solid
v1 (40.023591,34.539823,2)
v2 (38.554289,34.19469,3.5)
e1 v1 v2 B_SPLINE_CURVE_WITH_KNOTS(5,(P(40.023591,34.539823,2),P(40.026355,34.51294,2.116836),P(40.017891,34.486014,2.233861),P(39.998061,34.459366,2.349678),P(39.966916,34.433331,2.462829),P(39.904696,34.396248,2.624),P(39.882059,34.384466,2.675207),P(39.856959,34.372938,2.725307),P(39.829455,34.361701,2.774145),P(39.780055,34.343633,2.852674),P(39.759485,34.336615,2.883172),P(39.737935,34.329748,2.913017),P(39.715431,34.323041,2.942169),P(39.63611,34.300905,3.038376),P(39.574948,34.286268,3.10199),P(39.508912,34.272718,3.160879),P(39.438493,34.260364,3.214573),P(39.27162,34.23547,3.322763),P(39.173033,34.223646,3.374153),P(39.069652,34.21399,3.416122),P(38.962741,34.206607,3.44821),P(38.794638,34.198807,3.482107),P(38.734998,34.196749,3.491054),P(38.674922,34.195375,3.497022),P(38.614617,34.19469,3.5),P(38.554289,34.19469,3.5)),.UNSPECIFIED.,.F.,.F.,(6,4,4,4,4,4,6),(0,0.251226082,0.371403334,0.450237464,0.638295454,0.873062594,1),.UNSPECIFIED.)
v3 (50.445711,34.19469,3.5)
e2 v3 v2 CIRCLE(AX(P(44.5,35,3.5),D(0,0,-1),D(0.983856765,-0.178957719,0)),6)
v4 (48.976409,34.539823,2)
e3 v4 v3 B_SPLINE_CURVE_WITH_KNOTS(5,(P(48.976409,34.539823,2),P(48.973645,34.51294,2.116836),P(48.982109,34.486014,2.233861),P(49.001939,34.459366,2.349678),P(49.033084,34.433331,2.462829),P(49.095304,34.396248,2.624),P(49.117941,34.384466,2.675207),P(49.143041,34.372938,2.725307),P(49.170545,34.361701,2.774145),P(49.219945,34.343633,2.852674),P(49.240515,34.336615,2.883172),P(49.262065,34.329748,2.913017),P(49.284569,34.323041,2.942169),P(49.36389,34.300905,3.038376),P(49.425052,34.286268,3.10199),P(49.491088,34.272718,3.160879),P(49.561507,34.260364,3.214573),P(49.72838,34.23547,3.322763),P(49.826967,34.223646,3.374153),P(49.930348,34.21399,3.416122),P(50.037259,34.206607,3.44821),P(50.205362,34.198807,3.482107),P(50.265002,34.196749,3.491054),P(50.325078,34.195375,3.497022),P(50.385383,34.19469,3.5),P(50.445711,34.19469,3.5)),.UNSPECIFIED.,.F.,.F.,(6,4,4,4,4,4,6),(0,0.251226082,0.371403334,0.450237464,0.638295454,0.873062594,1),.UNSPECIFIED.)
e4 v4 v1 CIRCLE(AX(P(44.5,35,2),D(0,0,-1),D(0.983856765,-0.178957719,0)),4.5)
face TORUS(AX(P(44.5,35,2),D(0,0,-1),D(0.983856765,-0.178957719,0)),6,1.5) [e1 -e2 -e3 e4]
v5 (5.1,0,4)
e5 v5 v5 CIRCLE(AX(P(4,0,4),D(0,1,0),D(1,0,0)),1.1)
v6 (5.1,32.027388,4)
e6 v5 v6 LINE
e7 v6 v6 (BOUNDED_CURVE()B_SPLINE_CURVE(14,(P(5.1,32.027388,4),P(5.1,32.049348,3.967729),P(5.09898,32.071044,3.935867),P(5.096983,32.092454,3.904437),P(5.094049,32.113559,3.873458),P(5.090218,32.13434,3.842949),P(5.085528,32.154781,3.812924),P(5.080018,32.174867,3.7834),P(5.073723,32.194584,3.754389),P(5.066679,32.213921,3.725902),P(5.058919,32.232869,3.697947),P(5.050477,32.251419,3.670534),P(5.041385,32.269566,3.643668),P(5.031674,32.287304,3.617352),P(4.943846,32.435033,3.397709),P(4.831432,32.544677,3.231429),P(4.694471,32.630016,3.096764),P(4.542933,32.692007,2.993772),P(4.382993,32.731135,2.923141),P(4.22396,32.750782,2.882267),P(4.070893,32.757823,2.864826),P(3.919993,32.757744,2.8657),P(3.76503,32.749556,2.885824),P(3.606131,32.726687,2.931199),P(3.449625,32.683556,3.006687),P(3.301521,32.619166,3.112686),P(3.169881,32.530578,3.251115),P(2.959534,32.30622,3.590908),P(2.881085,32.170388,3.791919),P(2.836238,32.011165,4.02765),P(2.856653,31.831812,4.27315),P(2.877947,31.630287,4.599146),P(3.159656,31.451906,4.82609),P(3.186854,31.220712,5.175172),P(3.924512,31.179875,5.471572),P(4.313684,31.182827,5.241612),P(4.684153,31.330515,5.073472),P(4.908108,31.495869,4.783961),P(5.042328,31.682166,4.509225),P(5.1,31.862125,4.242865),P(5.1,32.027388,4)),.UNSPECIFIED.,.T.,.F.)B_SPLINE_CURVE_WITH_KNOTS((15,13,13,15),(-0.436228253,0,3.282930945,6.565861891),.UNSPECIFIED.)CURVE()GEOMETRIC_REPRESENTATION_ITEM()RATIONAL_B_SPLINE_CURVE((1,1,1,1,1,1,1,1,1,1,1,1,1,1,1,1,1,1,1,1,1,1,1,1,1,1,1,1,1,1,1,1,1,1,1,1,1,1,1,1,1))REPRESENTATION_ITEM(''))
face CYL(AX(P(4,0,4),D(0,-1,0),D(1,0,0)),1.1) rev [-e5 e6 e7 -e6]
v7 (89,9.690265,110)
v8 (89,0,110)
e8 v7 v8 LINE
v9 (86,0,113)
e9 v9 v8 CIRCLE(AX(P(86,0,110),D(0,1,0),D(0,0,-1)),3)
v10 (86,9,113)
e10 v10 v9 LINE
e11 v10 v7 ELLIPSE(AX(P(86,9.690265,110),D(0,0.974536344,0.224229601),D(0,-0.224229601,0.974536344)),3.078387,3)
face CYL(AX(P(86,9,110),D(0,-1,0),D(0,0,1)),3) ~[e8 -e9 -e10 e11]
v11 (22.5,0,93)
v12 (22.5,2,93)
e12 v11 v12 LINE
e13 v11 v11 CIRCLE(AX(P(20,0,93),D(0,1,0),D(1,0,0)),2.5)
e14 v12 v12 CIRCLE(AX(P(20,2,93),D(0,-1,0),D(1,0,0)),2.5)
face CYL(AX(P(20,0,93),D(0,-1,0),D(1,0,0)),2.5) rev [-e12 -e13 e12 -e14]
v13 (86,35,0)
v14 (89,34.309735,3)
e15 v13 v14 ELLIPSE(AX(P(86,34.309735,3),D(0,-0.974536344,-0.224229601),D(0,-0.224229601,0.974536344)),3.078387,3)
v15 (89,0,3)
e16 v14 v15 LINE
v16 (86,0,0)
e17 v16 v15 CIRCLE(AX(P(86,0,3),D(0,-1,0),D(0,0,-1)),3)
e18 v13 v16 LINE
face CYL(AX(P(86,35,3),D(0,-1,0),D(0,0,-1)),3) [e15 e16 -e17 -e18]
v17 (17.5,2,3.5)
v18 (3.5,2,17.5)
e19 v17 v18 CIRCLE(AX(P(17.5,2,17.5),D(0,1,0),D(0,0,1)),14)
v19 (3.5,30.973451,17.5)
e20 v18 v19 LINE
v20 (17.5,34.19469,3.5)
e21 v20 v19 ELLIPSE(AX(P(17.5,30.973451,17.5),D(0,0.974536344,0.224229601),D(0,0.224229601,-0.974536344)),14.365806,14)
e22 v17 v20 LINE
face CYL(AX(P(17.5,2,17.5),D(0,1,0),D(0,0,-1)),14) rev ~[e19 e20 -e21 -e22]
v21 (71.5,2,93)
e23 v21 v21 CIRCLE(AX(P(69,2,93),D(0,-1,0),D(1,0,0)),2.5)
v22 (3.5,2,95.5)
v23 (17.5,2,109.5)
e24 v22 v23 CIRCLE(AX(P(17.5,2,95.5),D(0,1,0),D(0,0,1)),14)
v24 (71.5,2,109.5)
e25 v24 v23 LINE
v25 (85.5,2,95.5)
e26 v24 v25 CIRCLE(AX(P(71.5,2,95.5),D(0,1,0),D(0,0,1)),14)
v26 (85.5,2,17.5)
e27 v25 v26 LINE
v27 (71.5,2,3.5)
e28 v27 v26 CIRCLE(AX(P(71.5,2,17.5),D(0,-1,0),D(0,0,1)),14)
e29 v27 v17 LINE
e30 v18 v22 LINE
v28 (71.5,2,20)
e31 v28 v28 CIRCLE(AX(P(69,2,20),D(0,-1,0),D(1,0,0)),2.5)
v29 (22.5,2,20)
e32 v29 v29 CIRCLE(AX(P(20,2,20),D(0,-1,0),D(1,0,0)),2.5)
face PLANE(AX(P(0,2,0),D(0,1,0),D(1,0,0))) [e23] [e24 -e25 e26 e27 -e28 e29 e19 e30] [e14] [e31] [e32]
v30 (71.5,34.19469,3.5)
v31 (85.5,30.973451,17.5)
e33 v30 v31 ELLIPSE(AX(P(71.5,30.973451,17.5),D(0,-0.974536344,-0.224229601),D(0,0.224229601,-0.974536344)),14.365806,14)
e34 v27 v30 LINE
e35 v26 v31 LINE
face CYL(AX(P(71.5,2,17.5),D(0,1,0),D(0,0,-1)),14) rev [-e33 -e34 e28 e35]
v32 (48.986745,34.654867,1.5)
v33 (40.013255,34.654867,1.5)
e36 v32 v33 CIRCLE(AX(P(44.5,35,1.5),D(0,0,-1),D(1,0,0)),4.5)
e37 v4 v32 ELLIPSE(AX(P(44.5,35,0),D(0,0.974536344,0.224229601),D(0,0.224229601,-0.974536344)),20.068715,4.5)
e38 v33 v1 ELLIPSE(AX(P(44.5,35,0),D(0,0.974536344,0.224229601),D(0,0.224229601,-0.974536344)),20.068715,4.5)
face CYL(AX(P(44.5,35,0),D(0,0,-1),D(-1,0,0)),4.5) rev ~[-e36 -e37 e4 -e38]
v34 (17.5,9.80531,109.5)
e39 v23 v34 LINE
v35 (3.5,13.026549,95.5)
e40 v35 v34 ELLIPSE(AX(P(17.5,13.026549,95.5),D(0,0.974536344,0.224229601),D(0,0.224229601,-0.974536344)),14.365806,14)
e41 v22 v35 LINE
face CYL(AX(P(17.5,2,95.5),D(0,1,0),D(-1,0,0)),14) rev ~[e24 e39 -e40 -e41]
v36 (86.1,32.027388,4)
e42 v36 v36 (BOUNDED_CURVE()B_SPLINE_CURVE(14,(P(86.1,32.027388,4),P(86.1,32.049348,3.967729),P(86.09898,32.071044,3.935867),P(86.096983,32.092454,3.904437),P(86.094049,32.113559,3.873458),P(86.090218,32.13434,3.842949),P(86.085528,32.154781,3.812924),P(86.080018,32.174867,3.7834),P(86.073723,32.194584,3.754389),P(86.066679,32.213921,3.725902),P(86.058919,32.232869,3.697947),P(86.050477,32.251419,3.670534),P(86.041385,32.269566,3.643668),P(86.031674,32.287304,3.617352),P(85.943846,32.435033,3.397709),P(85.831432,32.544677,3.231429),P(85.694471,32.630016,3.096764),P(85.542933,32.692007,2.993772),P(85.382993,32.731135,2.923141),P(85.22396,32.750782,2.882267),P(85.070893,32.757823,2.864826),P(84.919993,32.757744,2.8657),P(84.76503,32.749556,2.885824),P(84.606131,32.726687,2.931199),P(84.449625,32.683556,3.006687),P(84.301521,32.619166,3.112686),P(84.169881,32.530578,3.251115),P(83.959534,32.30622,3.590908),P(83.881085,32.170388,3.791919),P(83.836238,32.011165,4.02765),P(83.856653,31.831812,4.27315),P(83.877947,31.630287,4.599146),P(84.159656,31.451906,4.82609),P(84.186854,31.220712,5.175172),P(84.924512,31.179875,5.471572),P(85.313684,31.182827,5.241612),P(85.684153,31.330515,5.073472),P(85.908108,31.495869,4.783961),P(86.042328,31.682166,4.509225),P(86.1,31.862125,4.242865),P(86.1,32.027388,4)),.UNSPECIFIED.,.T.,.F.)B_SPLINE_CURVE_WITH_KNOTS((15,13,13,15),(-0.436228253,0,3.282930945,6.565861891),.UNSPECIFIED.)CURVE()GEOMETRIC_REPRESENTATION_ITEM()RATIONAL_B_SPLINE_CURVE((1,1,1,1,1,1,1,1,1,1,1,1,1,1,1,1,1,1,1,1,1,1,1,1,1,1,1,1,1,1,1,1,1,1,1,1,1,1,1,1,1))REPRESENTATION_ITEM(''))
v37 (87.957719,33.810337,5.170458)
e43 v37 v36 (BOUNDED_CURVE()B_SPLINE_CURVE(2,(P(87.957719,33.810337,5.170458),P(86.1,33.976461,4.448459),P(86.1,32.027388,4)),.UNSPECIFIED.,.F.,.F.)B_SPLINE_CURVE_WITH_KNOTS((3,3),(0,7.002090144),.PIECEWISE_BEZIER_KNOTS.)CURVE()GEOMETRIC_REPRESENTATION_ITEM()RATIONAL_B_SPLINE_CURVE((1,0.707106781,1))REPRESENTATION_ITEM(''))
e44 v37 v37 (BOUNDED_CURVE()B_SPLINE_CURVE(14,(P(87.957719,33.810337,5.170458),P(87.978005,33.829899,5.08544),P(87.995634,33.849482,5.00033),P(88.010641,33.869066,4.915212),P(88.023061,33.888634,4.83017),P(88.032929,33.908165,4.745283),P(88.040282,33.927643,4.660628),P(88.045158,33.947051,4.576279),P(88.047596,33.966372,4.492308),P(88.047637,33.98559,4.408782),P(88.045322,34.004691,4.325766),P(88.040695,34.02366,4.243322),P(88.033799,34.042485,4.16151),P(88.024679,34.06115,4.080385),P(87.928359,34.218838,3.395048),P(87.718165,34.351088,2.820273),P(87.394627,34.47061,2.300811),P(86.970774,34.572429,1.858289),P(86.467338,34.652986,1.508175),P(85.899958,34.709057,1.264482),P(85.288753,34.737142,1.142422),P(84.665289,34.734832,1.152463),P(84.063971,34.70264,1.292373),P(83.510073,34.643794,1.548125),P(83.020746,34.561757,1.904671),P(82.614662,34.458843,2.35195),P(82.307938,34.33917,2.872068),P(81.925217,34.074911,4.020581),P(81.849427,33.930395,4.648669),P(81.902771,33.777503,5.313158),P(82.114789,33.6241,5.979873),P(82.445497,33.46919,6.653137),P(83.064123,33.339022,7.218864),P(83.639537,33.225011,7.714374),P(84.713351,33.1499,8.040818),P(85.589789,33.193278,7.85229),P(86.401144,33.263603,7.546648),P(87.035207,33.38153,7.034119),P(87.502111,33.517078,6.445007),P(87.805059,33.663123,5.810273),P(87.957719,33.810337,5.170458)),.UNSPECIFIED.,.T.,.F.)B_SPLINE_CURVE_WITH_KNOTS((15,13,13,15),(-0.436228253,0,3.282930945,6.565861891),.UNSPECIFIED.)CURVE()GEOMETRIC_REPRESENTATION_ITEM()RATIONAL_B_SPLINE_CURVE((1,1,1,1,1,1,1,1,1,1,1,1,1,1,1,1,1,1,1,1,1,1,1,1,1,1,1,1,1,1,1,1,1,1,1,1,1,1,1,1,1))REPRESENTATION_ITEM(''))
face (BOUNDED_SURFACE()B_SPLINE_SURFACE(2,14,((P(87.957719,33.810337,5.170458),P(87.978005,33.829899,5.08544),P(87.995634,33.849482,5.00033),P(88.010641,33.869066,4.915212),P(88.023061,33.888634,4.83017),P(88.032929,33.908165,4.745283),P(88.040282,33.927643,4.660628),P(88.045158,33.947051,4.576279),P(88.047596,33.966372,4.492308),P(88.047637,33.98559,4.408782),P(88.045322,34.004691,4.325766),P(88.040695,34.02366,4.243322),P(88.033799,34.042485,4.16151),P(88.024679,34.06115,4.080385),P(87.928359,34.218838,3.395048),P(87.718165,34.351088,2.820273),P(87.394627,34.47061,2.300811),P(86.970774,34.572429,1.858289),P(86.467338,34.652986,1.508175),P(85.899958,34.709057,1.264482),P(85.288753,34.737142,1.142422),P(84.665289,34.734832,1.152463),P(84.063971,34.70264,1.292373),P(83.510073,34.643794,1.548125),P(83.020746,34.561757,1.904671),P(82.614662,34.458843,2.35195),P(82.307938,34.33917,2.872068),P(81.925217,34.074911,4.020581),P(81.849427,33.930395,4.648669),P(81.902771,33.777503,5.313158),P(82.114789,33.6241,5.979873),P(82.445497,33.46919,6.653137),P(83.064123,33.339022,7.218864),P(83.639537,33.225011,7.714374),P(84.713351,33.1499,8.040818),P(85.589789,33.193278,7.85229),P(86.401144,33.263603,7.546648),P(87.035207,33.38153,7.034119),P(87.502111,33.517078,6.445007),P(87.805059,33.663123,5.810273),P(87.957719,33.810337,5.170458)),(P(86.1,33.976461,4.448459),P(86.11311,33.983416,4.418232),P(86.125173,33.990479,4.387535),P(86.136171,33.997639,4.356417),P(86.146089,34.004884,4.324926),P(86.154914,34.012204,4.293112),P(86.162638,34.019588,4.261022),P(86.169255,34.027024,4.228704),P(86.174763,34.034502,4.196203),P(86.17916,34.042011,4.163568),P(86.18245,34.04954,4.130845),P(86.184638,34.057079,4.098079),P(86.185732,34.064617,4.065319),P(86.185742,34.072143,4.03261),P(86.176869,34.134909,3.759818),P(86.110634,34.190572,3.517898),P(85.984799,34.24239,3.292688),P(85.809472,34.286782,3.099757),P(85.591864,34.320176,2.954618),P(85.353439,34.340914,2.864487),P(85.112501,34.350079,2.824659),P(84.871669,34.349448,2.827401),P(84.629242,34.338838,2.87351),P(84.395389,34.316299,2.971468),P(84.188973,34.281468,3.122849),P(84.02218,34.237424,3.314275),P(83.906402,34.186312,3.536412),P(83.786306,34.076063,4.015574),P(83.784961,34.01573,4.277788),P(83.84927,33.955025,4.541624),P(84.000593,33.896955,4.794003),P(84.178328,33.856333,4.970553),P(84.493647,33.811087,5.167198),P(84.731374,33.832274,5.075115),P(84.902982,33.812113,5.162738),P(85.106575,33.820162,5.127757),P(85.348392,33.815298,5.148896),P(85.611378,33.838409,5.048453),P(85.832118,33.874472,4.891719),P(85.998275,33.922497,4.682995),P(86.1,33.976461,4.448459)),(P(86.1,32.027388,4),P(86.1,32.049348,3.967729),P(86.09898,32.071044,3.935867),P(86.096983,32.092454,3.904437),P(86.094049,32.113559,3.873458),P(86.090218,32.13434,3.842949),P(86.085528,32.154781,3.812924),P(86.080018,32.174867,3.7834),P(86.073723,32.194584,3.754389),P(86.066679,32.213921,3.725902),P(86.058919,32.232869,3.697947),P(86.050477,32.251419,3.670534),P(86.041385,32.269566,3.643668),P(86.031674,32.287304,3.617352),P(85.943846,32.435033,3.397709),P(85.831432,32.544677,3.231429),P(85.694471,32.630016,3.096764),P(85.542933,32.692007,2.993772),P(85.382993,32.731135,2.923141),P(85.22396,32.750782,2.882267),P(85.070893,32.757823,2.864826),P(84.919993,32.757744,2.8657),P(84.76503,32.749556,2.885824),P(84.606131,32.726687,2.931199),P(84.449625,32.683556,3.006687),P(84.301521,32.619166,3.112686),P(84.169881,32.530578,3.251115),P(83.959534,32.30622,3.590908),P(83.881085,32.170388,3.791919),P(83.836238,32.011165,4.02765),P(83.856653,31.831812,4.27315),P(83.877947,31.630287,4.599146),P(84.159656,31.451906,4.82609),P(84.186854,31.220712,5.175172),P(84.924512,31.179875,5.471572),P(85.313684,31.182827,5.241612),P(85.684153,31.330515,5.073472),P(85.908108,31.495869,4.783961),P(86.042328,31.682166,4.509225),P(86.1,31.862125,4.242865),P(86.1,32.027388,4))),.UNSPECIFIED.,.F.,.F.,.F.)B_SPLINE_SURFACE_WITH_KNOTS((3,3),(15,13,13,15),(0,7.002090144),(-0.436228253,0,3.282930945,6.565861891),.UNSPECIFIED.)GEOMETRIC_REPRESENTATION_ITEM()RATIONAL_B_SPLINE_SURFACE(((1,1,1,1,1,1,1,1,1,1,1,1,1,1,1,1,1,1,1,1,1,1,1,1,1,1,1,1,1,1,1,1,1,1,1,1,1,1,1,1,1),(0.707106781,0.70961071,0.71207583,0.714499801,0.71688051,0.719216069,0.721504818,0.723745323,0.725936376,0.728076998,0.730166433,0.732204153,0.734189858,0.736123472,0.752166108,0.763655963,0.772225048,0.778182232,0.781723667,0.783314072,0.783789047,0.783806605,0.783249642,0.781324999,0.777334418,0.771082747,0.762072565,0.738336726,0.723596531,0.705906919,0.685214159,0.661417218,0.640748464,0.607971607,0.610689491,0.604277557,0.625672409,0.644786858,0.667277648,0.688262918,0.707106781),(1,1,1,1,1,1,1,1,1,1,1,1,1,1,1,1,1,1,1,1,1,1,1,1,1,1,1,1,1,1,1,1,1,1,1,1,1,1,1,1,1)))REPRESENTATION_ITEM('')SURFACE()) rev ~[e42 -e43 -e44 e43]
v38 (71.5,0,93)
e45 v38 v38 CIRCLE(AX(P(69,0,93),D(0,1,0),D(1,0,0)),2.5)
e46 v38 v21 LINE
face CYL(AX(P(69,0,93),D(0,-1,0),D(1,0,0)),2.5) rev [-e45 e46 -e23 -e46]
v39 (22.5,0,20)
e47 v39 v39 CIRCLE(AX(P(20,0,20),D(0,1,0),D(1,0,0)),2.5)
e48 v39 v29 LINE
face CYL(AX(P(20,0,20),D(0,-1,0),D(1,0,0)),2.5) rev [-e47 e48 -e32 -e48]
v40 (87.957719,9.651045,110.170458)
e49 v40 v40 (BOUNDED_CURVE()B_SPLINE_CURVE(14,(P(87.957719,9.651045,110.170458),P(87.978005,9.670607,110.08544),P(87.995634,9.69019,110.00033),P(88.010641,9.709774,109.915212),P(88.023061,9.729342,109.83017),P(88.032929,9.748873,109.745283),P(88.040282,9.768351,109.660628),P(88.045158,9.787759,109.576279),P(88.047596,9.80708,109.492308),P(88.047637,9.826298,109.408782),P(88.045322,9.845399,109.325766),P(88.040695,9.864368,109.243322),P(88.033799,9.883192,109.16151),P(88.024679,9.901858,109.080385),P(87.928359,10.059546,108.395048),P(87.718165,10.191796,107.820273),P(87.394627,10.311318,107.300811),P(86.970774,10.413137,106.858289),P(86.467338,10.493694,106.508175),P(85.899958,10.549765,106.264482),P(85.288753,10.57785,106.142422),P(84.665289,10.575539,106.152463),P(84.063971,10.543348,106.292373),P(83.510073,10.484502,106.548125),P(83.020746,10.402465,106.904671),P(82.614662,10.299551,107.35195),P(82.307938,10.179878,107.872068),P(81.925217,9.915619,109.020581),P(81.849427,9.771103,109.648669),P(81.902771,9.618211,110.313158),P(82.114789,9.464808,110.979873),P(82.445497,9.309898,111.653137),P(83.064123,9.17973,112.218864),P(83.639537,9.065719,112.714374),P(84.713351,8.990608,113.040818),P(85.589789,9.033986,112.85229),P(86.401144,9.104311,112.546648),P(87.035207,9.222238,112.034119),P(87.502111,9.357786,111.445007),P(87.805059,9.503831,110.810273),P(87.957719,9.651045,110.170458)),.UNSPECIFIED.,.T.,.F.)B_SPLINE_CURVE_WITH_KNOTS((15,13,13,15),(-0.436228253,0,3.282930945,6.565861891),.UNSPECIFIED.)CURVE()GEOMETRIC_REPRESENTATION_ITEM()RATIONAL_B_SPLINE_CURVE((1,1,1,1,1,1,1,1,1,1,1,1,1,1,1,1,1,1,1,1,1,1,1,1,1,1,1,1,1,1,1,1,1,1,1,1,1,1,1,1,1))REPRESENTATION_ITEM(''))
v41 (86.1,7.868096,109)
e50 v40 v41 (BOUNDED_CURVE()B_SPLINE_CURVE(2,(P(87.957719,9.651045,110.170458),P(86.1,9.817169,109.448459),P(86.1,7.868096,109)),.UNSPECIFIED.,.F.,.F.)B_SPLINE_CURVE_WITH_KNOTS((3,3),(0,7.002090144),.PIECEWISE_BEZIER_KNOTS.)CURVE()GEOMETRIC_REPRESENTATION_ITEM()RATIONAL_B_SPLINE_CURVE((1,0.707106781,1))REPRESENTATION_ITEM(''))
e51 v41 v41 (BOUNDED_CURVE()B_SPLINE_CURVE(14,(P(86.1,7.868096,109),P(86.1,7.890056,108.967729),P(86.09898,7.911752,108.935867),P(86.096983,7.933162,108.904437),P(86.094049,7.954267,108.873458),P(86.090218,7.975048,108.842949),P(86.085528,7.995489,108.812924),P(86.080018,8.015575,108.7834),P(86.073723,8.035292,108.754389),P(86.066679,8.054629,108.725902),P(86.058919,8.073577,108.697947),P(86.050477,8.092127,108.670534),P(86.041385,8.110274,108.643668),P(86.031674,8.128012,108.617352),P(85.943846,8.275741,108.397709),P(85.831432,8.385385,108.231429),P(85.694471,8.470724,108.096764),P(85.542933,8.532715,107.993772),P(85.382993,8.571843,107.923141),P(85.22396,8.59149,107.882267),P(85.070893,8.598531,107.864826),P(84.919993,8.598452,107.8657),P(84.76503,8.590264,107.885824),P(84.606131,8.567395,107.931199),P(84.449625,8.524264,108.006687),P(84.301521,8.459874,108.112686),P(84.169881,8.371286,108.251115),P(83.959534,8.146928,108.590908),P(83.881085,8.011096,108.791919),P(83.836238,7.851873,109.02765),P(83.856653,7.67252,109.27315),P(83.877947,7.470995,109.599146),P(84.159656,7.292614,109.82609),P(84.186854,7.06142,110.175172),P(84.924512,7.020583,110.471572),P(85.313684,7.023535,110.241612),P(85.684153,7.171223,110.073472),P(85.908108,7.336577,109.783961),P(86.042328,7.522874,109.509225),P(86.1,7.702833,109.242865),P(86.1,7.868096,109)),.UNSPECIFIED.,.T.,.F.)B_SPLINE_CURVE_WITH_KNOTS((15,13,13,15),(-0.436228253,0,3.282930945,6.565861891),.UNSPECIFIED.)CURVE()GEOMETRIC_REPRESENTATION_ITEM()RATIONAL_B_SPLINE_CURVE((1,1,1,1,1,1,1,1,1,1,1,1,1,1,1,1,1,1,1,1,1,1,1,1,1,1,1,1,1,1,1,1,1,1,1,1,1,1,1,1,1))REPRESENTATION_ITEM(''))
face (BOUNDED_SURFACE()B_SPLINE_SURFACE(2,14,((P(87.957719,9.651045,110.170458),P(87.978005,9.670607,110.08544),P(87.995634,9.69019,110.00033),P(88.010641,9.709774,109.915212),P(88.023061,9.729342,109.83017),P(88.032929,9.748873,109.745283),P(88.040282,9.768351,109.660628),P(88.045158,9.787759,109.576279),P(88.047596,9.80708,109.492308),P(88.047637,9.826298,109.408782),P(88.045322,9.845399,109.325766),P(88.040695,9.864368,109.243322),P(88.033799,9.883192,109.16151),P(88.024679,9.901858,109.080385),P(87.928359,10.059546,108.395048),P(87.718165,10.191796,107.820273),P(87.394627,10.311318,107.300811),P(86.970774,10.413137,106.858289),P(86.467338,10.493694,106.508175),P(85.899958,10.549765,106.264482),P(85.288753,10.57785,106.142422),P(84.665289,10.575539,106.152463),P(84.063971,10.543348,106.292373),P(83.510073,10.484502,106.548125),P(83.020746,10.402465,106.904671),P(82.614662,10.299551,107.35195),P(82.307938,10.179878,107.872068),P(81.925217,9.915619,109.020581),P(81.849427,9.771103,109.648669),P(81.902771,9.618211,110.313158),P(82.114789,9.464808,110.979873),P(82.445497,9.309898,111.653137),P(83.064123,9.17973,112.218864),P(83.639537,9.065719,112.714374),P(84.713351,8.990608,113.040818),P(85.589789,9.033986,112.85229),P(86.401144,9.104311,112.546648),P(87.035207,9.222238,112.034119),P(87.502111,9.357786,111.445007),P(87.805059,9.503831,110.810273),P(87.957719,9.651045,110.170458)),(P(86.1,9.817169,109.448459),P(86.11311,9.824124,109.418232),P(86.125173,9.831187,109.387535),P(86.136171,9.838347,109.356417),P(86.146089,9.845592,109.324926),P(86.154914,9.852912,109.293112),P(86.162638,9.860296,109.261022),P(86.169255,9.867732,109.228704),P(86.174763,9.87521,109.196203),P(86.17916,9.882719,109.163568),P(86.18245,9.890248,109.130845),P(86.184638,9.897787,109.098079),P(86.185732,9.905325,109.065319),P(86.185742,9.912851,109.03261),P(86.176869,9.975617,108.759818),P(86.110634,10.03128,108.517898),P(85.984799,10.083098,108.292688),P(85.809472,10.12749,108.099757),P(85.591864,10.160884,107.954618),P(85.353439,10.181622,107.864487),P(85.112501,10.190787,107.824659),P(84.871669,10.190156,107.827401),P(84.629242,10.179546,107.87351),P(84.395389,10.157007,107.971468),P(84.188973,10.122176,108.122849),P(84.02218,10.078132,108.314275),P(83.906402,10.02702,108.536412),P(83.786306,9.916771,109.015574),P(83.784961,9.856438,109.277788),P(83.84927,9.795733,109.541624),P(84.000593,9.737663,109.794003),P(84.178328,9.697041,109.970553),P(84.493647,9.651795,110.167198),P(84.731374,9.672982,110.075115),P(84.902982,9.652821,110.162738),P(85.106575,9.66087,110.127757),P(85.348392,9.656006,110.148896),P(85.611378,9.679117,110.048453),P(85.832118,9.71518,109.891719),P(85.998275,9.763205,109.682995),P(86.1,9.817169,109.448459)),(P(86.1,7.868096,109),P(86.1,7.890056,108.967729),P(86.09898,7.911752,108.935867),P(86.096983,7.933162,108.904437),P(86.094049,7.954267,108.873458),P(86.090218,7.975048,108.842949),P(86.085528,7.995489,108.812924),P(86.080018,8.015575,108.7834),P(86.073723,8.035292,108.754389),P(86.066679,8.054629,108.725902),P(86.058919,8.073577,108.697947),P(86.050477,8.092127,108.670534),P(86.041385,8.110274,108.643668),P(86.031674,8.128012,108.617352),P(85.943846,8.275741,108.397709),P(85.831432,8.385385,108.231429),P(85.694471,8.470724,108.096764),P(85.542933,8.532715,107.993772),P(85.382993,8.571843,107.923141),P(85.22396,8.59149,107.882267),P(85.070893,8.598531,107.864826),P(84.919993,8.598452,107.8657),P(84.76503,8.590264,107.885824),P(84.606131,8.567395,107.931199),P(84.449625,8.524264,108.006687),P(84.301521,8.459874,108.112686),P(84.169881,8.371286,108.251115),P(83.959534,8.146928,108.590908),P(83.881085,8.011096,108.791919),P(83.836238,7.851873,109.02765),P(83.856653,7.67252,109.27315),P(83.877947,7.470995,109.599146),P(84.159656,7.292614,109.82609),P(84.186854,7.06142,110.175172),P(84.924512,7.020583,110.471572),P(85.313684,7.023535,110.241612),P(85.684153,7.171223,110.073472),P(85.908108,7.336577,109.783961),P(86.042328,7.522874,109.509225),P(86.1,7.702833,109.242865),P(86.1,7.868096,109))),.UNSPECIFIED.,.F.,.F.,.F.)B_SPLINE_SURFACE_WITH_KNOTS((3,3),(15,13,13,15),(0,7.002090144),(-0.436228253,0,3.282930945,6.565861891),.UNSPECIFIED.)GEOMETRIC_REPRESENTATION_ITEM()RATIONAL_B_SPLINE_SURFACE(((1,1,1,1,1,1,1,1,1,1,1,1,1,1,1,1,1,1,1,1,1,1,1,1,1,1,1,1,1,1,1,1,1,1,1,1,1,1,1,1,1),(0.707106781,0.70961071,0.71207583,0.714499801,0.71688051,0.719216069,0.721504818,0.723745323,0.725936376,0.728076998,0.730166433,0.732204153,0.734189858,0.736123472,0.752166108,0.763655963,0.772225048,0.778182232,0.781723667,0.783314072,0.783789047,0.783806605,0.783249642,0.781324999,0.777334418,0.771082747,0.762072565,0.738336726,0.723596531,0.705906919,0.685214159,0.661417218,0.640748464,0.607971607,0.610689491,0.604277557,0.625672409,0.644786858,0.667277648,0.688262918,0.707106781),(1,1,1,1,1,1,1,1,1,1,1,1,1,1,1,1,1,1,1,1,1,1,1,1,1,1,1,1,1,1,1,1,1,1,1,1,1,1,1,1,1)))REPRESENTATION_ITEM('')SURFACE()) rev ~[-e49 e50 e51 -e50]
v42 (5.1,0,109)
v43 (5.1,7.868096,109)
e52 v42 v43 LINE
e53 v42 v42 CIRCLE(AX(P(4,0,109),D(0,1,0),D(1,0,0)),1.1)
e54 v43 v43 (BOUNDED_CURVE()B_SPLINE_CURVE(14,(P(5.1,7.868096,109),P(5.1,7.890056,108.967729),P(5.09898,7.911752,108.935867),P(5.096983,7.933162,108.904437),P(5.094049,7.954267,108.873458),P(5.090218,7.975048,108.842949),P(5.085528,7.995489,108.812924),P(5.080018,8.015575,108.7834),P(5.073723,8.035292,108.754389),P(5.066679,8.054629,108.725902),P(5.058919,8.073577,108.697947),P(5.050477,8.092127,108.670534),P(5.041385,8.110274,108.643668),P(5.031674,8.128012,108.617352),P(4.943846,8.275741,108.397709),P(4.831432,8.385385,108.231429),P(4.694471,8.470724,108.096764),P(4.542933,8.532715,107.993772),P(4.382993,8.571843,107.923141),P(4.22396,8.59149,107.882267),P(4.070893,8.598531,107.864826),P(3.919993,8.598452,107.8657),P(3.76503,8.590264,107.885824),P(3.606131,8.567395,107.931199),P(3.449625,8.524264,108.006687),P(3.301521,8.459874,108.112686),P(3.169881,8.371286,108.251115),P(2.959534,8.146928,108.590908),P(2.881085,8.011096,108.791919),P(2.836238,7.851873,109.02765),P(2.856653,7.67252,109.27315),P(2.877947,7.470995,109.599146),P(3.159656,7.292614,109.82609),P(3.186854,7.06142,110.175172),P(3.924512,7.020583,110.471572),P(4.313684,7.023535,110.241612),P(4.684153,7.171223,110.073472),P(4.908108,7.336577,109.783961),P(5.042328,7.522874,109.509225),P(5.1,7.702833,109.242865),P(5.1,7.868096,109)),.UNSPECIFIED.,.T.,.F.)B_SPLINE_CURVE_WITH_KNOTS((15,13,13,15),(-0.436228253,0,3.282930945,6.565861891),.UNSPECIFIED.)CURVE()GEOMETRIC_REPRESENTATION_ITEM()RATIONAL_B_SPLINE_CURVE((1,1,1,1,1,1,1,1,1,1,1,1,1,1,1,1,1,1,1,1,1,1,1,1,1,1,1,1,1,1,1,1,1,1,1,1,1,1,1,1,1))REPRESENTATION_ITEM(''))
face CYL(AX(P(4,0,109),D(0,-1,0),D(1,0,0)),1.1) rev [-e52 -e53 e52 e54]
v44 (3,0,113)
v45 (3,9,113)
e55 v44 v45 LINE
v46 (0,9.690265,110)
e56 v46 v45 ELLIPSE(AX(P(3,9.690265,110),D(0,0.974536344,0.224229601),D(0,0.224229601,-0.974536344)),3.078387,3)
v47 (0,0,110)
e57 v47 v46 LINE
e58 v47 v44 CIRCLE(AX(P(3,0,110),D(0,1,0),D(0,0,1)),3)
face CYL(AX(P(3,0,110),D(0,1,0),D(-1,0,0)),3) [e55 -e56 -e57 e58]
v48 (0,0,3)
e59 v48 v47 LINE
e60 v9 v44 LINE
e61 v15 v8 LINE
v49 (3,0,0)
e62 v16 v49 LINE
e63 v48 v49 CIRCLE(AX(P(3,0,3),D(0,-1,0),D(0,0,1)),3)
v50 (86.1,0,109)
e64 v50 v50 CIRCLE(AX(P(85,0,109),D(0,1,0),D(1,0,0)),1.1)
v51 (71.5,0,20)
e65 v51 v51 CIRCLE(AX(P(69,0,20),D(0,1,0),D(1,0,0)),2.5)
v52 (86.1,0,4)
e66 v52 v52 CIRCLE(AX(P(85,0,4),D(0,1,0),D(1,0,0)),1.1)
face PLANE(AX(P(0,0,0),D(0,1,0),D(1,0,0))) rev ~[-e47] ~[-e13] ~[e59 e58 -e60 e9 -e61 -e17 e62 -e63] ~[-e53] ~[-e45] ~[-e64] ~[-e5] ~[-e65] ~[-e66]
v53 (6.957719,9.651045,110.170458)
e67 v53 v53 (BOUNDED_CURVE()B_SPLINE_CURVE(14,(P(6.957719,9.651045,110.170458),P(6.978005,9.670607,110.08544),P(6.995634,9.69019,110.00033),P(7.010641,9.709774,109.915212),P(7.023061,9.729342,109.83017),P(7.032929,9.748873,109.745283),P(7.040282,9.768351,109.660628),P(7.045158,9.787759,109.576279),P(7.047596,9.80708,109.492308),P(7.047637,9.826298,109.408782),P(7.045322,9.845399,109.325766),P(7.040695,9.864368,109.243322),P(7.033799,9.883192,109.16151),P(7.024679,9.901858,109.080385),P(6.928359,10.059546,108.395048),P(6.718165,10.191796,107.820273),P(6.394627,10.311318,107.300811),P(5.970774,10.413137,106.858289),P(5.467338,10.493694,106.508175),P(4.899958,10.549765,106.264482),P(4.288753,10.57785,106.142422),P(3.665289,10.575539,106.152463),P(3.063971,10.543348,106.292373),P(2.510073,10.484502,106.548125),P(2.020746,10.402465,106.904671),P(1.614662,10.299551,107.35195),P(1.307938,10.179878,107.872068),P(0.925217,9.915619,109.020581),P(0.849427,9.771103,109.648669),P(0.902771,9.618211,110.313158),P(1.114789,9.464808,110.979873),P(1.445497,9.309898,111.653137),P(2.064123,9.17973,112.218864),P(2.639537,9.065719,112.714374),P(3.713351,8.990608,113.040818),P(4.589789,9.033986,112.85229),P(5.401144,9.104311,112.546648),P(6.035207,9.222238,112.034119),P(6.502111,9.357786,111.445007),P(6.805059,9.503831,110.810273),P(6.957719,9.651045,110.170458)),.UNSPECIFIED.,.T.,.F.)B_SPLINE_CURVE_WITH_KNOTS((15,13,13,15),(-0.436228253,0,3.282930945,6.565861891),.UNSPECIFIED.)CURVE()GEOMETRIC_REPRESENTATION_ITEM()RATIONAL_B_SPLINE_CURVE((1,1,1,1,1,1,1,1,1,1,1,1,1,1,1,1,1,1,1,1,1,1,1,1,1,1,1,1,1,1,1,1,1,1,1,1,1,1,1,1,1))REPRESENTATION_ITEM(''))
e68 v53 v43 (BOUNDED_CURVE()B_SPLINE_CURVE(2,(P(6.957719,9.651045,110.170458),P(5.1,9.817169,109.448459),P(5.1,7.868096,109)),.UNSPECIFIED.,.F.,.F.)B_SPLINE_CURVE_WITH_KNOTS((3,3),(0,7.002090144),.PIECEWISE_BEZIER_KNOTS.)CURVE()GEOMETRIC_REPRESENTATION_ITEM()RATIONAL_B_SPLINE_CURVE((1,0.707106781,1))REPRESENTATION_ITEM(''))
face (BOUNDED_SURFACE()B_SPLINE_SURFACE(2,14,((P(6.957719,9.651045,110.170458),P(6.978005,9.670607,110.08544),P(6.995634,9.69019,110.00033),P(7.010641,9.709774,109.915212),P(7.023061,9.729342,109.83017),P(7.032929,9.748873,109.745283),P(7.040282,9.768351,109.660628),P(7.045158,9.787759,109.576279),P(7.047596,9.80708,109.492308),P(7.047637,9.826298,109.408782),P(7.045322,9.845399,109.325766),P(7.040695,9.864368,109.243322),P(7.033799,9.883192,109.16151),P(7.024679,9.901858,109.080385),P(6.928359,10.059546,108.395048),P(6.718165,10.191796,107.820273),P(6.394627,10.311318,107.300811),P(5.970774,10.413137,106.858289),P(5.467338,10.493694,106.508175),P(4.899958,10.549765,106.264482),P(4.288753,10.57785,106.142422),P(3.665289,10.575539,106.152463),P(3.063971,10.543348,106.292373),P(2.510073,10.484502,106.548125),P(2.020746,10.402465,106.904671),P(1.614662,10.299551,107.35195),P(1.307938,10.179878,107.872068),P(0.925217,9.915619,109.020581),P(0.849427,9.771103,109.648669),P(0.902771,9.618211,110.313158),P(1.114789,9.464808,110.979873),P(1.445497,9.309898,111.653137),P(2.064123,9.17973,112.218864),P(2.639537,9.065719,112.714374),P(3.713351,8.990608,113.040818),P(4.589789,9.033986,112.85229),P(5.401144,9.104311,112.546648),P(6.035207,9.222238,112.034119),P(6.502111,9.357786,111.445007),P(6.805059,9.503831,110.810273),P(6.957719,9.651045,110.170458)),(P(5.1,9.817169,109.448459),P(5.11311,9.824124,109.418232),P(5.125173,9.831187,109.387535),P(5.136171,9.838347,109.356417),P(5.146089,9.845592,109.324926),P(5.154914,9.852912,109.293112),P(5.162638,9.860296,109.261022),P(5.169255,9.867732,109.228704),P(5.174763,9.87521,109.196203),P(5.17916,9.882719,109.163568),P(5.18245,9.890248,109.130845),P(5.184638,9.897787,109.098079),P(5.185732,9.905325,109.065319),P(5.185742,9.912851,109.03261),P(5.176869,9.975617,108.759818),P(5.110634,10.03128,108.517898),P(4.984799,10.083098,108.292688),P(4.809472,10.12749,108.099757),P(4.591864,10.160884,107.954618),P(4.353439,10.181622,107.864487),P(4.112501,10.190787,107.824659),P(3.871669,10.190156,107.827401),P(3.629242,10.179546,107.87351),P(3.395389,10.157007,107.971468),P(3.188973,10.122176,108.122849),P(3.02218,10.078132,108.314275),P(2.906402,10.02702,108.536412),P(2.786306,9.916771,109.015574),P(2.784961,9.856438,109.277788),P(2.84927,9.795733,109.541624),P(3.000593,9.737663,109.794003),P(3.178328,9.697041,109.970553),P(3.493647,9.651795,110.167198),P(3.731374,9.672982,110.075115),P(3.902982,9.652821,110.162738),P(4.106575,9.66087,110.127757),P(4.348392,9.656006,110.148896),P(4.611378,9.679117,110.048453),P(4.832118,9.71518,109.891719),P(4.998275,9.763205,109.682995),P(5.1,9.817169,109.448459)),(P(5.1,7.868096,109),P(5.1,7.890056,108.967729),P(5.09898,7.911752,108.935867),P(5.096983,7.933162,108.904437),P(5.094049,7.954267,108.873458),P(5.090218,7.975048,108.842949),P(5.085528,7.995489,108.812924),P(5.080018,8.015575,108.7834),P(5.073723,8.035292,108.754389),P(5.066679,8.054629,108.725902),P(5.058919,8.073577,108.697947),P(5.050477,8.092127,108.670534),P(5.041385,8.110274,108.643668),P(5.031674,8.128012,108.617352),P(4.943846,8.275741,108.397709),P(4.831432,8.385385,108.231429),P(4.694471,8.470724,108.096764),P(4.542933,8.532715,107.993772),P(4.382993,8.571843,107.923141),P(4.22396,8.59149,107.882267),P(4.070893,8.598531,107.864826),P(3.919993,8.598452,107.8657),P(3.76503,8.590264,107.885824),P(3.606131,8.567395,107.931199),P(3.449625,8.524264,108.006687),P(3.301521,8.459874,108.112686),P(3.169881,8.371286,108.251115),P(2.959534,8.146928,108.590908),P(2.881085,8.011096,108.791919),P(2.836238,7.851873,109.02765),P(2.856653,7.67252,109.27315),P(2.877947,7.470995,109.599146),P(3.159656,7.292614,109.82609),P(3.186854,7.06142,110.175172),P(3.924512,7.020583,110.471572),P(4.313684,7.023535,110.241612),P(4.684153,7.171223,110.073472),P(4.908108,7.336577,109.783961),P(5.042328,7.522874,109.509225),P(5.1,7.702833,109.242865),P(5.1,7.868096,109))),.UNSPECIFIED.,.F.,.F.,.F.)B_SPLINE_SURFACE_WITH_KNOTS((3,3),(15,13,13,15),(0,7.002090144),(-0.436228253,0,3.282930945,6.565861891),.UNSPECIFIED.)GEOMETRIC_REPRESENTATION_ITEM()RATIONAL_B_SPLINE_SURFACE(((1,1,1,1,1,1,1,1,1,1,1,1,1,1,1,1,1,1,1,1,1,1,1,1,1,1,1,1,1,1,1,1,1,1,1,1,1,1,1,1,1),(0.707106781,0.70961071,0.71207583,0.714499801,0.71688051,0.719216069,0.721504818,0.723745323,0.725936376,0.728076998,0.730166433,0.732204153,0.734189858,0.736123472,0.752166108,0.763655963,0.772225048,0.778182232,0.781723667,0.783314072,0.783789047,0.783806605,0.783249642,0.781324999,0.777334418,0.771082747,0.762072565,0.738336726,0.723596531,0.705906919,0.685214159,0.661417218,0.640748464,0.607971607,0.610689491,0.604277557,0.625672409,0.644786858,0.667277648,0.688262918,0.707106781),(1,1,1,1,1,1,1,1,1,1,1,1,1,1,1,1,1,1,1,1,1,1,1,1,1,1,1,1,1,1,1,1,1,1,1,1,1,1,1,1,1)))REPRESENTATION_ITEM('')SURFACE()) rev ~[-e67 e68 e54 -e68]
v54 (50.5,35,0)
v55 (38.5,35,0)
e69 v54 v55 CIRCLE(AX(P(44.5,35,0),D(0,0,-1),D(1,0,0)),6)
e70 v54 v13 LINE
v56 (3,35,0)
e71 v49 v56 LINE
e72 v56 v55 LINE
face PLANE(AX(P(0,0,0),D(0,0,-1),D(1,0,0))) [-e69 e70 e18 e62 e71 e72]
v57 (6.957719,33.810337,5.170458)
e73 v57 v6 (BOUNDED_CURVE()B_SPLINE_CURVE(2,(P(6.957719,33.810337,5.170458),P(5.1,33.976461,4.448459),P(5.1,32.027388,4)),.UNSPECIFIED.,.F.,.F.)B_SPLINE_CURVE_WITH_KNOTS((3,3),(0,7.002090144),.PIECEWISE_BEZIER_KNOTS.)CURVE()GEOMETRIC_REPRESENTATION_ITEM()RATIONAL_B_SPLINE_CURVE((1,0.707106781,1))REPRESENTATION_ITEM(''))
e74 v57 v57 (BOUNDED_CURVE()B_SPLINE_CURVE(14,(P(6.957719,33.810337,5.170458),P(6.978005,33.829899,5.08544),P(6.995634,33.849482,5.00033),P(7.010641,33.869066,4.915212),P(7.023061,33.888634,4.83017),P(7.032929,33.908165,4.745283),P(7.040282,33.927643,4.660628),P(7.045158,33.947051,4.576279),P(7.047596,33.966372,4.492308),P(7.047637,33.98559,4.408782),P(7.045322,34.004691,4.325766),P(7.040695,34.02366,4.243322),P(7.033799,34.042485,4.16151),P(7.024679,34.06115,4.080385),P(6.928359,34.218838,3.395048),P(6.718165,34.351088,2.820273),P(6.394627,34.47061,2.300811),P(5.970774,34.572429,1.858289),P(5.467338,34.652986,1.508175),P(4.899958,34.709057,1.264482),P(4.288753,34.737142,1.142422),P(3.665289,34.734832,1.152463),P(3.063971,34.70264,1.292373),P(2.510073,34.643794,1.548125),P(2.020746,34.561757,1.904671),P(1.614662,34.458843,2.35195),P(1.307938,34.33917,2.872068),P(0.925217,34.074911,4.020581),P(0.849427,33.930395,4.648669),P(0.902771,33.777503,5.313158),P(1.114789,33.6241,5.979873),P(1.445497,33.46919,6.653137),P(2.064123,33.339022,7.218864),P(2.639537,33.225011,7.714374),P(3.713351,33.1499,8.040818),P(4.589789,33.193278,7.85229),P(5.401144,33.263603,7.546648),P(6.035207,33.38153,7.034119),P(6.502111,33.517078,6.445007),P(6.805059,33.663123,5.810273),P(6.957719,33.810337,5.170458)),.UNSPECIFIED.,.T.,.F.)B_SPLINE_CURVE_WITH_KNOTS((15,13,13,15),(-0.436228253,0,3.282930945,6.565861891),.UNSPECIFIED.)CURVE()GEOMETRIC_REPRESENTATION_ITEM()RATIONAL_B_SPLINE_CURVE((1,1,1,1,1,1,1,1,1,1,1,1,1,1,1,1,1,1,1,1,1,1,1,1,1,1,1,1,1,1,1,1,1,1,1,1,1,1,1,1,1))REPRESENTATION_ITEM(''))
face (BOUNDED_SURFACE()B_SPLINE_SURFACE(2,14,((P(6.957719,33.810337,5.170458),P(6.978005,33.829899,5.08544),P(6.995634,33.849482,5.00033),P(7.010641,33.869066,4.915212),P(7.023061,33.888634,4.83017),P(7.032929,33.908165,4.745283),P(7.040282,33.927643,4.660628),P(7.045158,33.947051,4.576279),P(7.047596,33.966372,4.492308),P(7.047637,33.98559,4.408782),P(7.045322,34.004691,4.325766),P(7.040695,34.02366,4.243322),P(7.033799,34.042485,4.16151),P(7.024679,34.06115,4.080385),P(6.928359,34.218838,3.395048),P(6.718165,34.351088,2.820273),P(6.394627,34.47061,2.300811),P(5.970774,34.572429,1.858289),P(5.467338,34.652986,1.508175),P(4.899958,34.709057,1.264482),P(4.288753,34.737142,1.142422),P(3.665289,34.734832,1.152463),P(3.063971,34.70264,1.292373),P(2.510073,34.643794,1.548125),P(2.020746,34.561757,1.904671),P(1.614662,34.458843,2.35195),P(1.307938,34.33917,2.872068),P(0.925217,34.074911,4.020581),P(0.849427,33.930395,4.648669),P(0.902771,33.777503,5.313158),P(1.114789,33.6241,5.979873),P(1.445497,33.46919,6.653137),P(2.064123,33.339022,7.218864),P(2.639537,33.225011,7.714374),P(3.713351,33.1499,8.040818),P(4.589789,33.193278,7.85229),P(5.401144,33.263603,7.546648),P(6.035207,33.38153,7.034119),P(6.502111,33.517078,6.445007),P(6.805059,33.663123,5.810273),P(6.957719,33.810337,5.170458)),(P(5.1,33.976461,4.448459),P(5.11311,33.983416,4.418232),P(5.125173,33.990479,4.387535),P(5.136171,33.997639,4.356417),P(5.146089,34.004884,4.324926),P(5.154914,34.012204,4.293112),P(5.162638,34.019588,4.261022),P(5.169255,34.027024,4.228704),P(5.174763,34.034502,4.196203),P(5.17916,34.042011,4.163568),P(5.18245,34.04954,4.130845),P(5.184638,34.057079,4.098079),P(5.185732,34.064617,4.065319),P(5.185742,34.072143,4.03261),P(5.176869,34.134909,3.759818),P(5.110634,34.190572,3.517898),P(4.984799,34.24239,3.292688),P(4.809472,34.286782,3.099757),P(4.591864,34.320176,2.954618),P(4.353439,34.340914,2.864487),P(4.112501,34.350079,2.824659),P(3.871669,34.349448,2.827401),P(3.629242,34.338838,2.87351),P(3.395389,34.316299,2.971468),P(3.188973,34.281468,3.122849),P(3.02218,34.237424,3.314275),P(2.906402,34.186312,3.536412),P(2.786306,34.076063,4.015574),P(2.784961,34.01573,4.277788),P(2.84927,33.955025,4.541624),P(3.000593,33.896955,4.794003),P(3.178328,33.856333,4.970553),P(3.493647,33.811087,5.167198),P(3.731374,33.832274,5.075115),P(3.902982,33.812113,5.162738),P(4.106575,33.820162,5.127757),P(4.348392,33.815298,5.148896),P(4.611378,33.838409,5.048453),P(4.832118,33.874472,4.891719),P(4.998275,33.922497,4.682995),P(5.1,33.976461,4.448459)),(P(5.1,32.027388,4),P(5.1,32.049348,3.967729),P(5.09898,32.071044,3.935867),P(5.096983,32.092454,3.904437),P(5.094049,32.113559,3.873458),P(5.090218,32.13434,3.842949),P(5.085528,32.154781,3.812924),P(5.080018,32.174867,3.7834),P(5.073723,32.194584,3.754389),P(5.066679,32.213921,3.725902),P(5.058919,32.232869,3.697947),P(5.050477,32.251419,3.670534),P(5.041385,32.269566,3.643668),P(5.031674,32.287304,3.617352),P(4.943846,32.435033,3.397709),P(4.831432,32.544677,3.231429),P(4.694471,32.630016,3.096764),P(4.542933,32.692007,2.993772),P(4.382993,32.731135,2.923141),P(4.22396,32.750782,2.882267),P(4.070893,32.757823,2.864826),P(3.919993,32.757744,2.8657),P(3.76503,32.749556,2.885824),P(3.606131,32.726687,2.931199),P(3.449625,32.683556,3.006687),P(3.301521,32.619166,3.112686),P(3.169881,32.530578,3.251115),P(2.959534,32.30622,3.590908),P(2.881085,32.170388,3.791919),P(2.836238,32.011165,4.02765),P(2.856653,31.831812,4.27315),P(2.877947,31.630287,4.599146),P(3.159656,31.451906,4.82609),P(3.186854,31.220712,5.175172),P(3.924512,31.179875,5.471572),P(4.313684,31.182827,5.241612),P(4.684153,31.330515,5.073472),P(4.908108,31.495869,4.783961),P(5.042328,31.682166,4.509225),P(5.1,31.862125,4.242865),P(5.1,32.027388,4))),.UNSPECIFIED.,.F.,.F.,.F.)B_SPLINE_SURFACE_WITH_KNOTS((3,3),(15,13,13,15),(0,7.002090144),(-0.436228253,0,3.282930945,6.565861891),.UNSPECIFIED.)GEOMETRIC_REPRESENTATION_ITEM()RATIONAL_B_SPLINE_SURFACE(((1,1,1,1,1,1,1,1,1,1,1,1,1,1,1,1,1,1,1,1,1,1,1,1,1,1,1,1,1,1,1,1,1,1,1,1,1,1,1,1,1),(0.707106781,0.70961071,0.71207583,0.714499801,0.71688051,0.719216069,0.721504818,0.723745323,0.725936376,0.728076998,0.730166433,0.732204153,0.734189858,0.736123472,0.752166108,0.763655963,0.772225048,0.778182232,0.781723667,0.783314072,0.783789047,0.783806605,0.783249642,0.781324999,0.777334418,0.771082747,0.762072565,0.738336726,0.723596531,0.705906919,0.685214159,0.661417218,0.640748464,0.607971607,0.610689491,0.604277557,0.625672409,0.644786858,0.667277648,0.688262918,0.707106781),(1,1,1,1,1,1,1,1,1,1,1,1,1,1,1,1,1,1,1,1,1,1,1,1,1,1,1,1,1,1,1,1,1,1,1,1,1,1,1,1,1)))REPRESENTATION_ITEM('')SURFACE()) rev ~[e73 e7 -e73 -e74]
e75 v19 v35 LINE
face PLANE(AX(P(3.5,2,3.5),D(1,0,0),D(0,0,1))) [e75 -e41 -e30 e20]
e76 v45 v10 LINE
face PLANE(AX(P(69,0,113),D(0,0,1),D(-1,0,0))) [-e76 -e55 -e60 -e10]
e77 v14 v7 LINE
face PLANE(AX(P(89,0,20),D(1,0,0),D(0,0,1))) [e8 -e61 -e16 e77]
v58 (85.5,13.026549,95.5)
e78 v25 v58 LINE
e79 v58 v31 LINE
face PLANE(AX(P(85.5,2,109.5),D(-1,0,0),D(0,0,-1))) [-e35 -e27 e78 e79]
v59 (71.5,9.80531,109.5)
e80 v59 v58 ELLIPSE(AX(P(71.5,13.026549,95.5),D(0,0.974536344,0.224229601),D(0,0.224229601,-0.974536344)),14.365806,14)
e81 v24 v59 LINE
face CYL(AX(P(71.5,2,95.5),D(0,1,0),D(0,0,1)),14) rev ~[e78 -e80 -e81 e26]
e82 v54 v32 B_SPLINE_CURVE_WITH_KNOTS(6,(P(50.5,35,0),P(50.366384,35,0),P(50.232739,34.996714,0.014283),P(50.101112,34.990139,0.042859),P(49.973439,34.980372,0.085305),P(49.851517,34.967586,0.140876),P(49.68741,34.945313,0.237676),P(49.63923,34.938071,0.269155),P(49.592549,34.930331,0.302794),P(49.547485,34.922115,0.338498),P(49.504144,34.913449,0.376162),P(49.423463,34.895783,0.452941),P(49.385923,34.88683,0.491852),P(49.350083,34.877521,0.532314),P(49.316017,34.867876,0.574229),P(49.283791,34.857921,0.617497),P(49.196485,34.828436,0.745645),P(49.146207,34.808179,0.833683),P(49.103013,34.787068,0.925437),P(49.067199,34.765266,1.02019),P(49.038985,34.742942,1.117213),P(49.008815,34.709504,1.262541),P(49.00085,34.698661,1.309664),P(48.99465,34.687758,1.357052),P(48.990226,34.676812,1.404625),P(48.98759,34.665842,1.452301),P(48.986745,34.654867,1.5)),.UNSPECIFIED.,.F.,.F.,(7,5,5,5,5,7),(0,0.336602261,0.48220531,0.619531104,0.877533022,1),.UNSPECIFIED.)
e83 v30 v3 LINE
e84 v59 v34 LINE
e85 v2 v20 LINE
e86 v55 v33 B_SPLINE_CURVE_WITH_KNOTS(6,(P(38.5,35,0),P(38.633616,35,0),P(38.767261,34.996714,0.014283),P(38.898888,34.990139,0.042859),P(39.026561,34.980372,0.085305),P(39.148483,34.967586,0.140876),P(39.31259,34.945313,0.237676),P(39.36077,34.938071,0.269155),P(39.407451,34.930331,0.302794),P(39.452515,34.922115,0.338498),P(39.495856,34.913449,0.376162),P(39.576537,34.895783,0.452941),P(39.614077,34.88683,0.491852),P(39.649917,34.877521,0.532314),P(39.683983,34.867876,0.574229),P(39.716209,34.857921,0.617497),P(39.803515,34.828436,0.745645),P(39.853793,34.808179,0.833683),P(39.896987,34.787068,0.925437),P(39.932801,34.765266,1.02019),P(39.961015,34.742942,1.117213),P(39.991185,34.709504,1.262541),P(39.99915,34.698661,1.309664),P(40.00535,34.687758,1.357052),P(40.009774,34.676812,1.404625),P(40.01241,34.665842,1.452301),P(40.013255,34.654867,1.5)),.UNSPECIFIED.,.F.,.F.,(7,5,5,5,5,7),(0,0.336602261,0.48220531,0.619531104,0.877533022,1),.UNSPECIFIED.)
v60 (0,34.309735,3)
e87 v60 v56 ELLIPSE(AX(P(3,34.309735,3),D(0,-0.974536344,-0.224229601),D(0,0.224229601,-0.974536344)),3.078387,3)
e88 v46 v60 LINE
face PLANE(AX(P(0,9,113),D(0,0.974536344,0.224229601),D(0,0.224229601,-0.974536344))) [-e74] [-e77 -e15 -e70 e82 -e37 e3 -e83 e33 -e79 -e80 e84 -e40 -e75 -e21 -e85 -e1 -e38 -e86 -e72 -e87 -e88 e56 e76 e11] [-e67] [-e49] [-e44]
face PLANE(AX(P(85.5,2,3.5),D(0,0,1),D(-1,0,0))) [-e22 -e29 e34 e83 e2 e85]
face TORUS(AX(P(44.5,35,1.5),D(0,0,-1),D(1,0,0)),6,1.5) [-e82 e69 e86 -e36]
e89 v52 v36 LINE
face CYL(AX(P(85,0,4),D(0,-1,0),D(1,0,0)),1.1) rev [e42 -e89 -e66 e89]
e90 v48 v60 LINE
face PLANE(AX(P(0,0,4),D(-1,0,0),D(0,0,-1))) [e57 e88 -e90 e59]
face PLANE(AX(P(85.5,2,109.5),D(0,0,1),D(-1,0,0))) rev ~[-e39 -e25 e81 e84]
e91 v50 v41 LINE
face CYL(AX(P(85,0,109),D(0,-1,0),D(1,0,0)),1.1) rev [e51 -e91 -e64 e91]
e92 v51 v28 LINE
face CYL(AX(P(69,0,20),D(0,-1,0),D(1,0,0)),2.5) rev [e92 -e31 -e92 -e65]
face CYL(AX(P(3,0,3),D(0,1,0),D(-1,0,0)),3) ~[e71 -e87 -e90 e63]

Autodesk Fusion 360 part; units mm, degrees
sketch "Sketch1" plane through (0, 0, 0) normal (0, 1, 0) x (1, 0, 0)
  line L0 (0, 0) -> (89, 0)
  line L1 (89, 0) -> (89, -113)
  line L2 (89, -113) -> (0, -113)
  line L3 (0, -113) -> (0, 0)
  line L4 (0, 0) -> (4, 0)
  line L5 (4, 0) -> (4, -4)
  line L6 (4, -4) -> (0, -4)
  line L7 (0, -4) -> (0, 0)
  line L8 (89, 0) -> (85, 0)
  line L9 (85, 0) -> (85, -4)
  line L10 (85, -4) -> (89, -4)
  line L11 (89, -4) -> (89, 0)
  line L12 (89, -113) -> (85, -113)
  line L13 (85, -113) -> (85, -109)
  line L14 (85, -109) -> (89, -109)
  line L15 (89, -109) -> (89, -113)
  line L16 (0, -113) -> (4, -113)
  line L17 (4, -113) -> (4, -109)
  line L18 (4, -109) -> (0, -109)
  line L19 (0, -109) -> (0, -113)
  circle A0 centre (4, -4) radius 1.1
  circle A1 centre (85, -4) radius 1.1
  circle A2 centre (85, -109) radius 1.1
  circle A3 centre (4, -109) radius 1.1
  circle A4 centre (20, -20) radius 2.5
  line L20 (89, 0) -> (69, 0)
  line L21 (69, 0) -> (69, -20)
  line L22 (69, -20) -> (89, -20)
  line L23 (89, -20) -> (89, 0)
  line L24 (0, 0) -> (20, 0)
  line L25 (20, 0) -> (20, -20)
  line L26 (20, -20) -> (0, -20)
  line L27 (0, -20) -> (0, 0)
  line L28 (0, -113) -> (20, -113)
  line L29 (20, -113) -> (20, -93)
  line L30 (20, -93) -> (0, -93)
  line L31 (0, -93) -> (0, -113)
  line L32 (89, -113) -> (69, -113)
  line L33 (69, -113) -> (69, -93)
  line L34 (69, -93) -> (89, -93)
  line L35 (89, -93) -> (89, -113)
  circle A5 centre (69, -20) radius 2.5
  circle A6 centre (20, -93) radius 2.5
  circle A7 centre (69, -93) radius 2.5
  dimension "d1" = 89
  dimension "d2" = 113
  dimension "d3" = 4
  dimension "d4" = 4
  dimension "d5" = 4
  dimension "d6" = 4
  dimension "d7" = 4
  dimension "d8" = 4
  dimension "d9" = 4
  dimension "d10" = 4
  dimension "d11" = 2.2
  dimension "d12" = 2.2
  dimension "d13" = 2.2
  dimension "d14" = 2.2
  dimension "d30" = 5
  dimension "d31" = 20
  dimension "d32" = 20
  dimension "d33" = 20
  dimension "d34" = 20
  dimension "d35" = 20
  dimension "d36" = 20
  dimension "d37" = 5
  dimension "d38" = 5
  dimension "d39" = 5
extrude "Extrude1" add sketch "Sketch1" along normal blind 2
sketch "Sketch2" plane through (0, 2, 0) normal (0, 1, 0) x (-1, 0, 0)
  line L0 (0, 0) -> (0, 113)
  line L1 (0, 113) -> (-89, 113)
  line L2 (-89, 113) -> (-89, 0)
  line L3 (-89, 0) -> (0, 0)
  line L4 (0, 0) -> (-89, 0)
  line L5 (-89, 0) -> (-89, 3.5)
  line L6 (-89, 3.5) -> (0, 3.5)
  line L7 (0, 3.5) -> (0, 0)
  line L8 (0, 0) -> (-3.5, 0)
  line L9 (-3.5, 0) -> (-3.5, 113)
  line L10 (-3.5, 113) -> (0, 113)
  line L11 (0, 113) -> (0, 0)
  line L12 (0, 113) -> (-89, 113)
  line L13 (-89, 113) -> (-89, 109.5)
  line L14 (-89, 109.5) -> (0, 109.5)
  line L15 (0, 109.5) -> (0, 113)
  line L16 (-89, 113) -> (-85.5, 113)
  line L17 (-85.5, 113) -> (-85.5, 0)
  line L18 (-85.5, 0) -> (-89, 0)
  line L19 (-89, 0) -> (-89, 113)
  dimension "d17" = 3.5
  dimension "d18" = 3.5
  dimension "d19" = 3.5
  dimension "d20" = 3.5
extrude "Extrude2" add sketch "Sketch2" along normal blind 33 contours L0 L3 L4 L6 L7 L8 L9 L11 | L0 L6 L9 L11 L14 | L3 L4 L6 L9 L17 | L0 L1 L9 L10 L11 L12 L14 L15 | L2 L3 L4 L5 L6 L17 L18 L19 | L1 L9 L12 L14 L17 | L2 L6 L14 L17 L19 | L1 L2 L12 L13 L14 L16 L17 L19
sketch "Sketch3" plane through (0, 0, 0) normal (-1, 0, 0) x (0, 0, 1)
  line L0 (0, 0) -> (113, 0)
  line L1 (113, 0) -> (113, 35)
  line L2 (113, 35) -> (0, 35)
  line L3 (0, 35) -> (0, 0)
  line L4 (113, 0) -> (113, 9)
  line L5 (113, 9) -> (0, 35)
  dimension "d23" = 9
extrude "Extrude3" cut sketch "Sketch3" against normal blind 92 contours L1 L2 L5
fillet "Fillet1" radius 14 4 edges at (3.5, 18.0973, 3.5) (85.5, 18.0973, 3.5) (85.5, 5.9027, 109.5) (3.5, 5.9027, 109.5)
extrude "Extrude4" cut sketch "Sketch1" along normal blind 50 contours L5 L6 A0 | L5 L6 A0 | L9 L10 A1 | L9 L10 A1 | L17 L18 A3 | L17 L18 A3 | L13 L14 A2 | L13 L14 A2
extrude "Extrude5" cut sketch "Sketch1" along normal blind 5 contours A4 L25 L26 | A4 L25 L26 | L21 L22 A5 | L21 L22 A5 | L29 L30 A6 | L29 L30 A6 | L33 L34 A7 | L33 L34 A7
fillet "Fillet2" radius 3 4 edges at (0, 4.5, 113) (89, 4.5, 113) (89, 17.5, 0) (0, 17.5, 0)
fillet "Fillet3" radius 2 4 edges at (4, 9.6673, 110.1) (85, 9.6673, 110.1) (85, 33.8265, 5.1) (4, 33.8265, 5.1)
sketch "Sketch4" plane through (0, 0, 0) normal (0, 0, -1) x (-1, 0, 0)
  line L0 (-3, 0) -> (-3, 35)
  line L1 (-3, 35) -> (-86, 35)
  line L2 (-86, 35) -> (-86, 0)
  line L3 (-86, 0) -> (-3, 0)
  line L4 (-86, 35) -> (-44.5, 35)
  circle A0 centre (-44.5, 35) radius 4.5
extrude "Extrude6" cut sketch "Sketch4" against normal blind 6 contours L1 L4 A0 picked at (-47.4832, 34.7764)
fillet "Fillet4" radius 1.5 2 edges at (44.5, 30.5, 0) (44.5, 30.5, 3.5)
